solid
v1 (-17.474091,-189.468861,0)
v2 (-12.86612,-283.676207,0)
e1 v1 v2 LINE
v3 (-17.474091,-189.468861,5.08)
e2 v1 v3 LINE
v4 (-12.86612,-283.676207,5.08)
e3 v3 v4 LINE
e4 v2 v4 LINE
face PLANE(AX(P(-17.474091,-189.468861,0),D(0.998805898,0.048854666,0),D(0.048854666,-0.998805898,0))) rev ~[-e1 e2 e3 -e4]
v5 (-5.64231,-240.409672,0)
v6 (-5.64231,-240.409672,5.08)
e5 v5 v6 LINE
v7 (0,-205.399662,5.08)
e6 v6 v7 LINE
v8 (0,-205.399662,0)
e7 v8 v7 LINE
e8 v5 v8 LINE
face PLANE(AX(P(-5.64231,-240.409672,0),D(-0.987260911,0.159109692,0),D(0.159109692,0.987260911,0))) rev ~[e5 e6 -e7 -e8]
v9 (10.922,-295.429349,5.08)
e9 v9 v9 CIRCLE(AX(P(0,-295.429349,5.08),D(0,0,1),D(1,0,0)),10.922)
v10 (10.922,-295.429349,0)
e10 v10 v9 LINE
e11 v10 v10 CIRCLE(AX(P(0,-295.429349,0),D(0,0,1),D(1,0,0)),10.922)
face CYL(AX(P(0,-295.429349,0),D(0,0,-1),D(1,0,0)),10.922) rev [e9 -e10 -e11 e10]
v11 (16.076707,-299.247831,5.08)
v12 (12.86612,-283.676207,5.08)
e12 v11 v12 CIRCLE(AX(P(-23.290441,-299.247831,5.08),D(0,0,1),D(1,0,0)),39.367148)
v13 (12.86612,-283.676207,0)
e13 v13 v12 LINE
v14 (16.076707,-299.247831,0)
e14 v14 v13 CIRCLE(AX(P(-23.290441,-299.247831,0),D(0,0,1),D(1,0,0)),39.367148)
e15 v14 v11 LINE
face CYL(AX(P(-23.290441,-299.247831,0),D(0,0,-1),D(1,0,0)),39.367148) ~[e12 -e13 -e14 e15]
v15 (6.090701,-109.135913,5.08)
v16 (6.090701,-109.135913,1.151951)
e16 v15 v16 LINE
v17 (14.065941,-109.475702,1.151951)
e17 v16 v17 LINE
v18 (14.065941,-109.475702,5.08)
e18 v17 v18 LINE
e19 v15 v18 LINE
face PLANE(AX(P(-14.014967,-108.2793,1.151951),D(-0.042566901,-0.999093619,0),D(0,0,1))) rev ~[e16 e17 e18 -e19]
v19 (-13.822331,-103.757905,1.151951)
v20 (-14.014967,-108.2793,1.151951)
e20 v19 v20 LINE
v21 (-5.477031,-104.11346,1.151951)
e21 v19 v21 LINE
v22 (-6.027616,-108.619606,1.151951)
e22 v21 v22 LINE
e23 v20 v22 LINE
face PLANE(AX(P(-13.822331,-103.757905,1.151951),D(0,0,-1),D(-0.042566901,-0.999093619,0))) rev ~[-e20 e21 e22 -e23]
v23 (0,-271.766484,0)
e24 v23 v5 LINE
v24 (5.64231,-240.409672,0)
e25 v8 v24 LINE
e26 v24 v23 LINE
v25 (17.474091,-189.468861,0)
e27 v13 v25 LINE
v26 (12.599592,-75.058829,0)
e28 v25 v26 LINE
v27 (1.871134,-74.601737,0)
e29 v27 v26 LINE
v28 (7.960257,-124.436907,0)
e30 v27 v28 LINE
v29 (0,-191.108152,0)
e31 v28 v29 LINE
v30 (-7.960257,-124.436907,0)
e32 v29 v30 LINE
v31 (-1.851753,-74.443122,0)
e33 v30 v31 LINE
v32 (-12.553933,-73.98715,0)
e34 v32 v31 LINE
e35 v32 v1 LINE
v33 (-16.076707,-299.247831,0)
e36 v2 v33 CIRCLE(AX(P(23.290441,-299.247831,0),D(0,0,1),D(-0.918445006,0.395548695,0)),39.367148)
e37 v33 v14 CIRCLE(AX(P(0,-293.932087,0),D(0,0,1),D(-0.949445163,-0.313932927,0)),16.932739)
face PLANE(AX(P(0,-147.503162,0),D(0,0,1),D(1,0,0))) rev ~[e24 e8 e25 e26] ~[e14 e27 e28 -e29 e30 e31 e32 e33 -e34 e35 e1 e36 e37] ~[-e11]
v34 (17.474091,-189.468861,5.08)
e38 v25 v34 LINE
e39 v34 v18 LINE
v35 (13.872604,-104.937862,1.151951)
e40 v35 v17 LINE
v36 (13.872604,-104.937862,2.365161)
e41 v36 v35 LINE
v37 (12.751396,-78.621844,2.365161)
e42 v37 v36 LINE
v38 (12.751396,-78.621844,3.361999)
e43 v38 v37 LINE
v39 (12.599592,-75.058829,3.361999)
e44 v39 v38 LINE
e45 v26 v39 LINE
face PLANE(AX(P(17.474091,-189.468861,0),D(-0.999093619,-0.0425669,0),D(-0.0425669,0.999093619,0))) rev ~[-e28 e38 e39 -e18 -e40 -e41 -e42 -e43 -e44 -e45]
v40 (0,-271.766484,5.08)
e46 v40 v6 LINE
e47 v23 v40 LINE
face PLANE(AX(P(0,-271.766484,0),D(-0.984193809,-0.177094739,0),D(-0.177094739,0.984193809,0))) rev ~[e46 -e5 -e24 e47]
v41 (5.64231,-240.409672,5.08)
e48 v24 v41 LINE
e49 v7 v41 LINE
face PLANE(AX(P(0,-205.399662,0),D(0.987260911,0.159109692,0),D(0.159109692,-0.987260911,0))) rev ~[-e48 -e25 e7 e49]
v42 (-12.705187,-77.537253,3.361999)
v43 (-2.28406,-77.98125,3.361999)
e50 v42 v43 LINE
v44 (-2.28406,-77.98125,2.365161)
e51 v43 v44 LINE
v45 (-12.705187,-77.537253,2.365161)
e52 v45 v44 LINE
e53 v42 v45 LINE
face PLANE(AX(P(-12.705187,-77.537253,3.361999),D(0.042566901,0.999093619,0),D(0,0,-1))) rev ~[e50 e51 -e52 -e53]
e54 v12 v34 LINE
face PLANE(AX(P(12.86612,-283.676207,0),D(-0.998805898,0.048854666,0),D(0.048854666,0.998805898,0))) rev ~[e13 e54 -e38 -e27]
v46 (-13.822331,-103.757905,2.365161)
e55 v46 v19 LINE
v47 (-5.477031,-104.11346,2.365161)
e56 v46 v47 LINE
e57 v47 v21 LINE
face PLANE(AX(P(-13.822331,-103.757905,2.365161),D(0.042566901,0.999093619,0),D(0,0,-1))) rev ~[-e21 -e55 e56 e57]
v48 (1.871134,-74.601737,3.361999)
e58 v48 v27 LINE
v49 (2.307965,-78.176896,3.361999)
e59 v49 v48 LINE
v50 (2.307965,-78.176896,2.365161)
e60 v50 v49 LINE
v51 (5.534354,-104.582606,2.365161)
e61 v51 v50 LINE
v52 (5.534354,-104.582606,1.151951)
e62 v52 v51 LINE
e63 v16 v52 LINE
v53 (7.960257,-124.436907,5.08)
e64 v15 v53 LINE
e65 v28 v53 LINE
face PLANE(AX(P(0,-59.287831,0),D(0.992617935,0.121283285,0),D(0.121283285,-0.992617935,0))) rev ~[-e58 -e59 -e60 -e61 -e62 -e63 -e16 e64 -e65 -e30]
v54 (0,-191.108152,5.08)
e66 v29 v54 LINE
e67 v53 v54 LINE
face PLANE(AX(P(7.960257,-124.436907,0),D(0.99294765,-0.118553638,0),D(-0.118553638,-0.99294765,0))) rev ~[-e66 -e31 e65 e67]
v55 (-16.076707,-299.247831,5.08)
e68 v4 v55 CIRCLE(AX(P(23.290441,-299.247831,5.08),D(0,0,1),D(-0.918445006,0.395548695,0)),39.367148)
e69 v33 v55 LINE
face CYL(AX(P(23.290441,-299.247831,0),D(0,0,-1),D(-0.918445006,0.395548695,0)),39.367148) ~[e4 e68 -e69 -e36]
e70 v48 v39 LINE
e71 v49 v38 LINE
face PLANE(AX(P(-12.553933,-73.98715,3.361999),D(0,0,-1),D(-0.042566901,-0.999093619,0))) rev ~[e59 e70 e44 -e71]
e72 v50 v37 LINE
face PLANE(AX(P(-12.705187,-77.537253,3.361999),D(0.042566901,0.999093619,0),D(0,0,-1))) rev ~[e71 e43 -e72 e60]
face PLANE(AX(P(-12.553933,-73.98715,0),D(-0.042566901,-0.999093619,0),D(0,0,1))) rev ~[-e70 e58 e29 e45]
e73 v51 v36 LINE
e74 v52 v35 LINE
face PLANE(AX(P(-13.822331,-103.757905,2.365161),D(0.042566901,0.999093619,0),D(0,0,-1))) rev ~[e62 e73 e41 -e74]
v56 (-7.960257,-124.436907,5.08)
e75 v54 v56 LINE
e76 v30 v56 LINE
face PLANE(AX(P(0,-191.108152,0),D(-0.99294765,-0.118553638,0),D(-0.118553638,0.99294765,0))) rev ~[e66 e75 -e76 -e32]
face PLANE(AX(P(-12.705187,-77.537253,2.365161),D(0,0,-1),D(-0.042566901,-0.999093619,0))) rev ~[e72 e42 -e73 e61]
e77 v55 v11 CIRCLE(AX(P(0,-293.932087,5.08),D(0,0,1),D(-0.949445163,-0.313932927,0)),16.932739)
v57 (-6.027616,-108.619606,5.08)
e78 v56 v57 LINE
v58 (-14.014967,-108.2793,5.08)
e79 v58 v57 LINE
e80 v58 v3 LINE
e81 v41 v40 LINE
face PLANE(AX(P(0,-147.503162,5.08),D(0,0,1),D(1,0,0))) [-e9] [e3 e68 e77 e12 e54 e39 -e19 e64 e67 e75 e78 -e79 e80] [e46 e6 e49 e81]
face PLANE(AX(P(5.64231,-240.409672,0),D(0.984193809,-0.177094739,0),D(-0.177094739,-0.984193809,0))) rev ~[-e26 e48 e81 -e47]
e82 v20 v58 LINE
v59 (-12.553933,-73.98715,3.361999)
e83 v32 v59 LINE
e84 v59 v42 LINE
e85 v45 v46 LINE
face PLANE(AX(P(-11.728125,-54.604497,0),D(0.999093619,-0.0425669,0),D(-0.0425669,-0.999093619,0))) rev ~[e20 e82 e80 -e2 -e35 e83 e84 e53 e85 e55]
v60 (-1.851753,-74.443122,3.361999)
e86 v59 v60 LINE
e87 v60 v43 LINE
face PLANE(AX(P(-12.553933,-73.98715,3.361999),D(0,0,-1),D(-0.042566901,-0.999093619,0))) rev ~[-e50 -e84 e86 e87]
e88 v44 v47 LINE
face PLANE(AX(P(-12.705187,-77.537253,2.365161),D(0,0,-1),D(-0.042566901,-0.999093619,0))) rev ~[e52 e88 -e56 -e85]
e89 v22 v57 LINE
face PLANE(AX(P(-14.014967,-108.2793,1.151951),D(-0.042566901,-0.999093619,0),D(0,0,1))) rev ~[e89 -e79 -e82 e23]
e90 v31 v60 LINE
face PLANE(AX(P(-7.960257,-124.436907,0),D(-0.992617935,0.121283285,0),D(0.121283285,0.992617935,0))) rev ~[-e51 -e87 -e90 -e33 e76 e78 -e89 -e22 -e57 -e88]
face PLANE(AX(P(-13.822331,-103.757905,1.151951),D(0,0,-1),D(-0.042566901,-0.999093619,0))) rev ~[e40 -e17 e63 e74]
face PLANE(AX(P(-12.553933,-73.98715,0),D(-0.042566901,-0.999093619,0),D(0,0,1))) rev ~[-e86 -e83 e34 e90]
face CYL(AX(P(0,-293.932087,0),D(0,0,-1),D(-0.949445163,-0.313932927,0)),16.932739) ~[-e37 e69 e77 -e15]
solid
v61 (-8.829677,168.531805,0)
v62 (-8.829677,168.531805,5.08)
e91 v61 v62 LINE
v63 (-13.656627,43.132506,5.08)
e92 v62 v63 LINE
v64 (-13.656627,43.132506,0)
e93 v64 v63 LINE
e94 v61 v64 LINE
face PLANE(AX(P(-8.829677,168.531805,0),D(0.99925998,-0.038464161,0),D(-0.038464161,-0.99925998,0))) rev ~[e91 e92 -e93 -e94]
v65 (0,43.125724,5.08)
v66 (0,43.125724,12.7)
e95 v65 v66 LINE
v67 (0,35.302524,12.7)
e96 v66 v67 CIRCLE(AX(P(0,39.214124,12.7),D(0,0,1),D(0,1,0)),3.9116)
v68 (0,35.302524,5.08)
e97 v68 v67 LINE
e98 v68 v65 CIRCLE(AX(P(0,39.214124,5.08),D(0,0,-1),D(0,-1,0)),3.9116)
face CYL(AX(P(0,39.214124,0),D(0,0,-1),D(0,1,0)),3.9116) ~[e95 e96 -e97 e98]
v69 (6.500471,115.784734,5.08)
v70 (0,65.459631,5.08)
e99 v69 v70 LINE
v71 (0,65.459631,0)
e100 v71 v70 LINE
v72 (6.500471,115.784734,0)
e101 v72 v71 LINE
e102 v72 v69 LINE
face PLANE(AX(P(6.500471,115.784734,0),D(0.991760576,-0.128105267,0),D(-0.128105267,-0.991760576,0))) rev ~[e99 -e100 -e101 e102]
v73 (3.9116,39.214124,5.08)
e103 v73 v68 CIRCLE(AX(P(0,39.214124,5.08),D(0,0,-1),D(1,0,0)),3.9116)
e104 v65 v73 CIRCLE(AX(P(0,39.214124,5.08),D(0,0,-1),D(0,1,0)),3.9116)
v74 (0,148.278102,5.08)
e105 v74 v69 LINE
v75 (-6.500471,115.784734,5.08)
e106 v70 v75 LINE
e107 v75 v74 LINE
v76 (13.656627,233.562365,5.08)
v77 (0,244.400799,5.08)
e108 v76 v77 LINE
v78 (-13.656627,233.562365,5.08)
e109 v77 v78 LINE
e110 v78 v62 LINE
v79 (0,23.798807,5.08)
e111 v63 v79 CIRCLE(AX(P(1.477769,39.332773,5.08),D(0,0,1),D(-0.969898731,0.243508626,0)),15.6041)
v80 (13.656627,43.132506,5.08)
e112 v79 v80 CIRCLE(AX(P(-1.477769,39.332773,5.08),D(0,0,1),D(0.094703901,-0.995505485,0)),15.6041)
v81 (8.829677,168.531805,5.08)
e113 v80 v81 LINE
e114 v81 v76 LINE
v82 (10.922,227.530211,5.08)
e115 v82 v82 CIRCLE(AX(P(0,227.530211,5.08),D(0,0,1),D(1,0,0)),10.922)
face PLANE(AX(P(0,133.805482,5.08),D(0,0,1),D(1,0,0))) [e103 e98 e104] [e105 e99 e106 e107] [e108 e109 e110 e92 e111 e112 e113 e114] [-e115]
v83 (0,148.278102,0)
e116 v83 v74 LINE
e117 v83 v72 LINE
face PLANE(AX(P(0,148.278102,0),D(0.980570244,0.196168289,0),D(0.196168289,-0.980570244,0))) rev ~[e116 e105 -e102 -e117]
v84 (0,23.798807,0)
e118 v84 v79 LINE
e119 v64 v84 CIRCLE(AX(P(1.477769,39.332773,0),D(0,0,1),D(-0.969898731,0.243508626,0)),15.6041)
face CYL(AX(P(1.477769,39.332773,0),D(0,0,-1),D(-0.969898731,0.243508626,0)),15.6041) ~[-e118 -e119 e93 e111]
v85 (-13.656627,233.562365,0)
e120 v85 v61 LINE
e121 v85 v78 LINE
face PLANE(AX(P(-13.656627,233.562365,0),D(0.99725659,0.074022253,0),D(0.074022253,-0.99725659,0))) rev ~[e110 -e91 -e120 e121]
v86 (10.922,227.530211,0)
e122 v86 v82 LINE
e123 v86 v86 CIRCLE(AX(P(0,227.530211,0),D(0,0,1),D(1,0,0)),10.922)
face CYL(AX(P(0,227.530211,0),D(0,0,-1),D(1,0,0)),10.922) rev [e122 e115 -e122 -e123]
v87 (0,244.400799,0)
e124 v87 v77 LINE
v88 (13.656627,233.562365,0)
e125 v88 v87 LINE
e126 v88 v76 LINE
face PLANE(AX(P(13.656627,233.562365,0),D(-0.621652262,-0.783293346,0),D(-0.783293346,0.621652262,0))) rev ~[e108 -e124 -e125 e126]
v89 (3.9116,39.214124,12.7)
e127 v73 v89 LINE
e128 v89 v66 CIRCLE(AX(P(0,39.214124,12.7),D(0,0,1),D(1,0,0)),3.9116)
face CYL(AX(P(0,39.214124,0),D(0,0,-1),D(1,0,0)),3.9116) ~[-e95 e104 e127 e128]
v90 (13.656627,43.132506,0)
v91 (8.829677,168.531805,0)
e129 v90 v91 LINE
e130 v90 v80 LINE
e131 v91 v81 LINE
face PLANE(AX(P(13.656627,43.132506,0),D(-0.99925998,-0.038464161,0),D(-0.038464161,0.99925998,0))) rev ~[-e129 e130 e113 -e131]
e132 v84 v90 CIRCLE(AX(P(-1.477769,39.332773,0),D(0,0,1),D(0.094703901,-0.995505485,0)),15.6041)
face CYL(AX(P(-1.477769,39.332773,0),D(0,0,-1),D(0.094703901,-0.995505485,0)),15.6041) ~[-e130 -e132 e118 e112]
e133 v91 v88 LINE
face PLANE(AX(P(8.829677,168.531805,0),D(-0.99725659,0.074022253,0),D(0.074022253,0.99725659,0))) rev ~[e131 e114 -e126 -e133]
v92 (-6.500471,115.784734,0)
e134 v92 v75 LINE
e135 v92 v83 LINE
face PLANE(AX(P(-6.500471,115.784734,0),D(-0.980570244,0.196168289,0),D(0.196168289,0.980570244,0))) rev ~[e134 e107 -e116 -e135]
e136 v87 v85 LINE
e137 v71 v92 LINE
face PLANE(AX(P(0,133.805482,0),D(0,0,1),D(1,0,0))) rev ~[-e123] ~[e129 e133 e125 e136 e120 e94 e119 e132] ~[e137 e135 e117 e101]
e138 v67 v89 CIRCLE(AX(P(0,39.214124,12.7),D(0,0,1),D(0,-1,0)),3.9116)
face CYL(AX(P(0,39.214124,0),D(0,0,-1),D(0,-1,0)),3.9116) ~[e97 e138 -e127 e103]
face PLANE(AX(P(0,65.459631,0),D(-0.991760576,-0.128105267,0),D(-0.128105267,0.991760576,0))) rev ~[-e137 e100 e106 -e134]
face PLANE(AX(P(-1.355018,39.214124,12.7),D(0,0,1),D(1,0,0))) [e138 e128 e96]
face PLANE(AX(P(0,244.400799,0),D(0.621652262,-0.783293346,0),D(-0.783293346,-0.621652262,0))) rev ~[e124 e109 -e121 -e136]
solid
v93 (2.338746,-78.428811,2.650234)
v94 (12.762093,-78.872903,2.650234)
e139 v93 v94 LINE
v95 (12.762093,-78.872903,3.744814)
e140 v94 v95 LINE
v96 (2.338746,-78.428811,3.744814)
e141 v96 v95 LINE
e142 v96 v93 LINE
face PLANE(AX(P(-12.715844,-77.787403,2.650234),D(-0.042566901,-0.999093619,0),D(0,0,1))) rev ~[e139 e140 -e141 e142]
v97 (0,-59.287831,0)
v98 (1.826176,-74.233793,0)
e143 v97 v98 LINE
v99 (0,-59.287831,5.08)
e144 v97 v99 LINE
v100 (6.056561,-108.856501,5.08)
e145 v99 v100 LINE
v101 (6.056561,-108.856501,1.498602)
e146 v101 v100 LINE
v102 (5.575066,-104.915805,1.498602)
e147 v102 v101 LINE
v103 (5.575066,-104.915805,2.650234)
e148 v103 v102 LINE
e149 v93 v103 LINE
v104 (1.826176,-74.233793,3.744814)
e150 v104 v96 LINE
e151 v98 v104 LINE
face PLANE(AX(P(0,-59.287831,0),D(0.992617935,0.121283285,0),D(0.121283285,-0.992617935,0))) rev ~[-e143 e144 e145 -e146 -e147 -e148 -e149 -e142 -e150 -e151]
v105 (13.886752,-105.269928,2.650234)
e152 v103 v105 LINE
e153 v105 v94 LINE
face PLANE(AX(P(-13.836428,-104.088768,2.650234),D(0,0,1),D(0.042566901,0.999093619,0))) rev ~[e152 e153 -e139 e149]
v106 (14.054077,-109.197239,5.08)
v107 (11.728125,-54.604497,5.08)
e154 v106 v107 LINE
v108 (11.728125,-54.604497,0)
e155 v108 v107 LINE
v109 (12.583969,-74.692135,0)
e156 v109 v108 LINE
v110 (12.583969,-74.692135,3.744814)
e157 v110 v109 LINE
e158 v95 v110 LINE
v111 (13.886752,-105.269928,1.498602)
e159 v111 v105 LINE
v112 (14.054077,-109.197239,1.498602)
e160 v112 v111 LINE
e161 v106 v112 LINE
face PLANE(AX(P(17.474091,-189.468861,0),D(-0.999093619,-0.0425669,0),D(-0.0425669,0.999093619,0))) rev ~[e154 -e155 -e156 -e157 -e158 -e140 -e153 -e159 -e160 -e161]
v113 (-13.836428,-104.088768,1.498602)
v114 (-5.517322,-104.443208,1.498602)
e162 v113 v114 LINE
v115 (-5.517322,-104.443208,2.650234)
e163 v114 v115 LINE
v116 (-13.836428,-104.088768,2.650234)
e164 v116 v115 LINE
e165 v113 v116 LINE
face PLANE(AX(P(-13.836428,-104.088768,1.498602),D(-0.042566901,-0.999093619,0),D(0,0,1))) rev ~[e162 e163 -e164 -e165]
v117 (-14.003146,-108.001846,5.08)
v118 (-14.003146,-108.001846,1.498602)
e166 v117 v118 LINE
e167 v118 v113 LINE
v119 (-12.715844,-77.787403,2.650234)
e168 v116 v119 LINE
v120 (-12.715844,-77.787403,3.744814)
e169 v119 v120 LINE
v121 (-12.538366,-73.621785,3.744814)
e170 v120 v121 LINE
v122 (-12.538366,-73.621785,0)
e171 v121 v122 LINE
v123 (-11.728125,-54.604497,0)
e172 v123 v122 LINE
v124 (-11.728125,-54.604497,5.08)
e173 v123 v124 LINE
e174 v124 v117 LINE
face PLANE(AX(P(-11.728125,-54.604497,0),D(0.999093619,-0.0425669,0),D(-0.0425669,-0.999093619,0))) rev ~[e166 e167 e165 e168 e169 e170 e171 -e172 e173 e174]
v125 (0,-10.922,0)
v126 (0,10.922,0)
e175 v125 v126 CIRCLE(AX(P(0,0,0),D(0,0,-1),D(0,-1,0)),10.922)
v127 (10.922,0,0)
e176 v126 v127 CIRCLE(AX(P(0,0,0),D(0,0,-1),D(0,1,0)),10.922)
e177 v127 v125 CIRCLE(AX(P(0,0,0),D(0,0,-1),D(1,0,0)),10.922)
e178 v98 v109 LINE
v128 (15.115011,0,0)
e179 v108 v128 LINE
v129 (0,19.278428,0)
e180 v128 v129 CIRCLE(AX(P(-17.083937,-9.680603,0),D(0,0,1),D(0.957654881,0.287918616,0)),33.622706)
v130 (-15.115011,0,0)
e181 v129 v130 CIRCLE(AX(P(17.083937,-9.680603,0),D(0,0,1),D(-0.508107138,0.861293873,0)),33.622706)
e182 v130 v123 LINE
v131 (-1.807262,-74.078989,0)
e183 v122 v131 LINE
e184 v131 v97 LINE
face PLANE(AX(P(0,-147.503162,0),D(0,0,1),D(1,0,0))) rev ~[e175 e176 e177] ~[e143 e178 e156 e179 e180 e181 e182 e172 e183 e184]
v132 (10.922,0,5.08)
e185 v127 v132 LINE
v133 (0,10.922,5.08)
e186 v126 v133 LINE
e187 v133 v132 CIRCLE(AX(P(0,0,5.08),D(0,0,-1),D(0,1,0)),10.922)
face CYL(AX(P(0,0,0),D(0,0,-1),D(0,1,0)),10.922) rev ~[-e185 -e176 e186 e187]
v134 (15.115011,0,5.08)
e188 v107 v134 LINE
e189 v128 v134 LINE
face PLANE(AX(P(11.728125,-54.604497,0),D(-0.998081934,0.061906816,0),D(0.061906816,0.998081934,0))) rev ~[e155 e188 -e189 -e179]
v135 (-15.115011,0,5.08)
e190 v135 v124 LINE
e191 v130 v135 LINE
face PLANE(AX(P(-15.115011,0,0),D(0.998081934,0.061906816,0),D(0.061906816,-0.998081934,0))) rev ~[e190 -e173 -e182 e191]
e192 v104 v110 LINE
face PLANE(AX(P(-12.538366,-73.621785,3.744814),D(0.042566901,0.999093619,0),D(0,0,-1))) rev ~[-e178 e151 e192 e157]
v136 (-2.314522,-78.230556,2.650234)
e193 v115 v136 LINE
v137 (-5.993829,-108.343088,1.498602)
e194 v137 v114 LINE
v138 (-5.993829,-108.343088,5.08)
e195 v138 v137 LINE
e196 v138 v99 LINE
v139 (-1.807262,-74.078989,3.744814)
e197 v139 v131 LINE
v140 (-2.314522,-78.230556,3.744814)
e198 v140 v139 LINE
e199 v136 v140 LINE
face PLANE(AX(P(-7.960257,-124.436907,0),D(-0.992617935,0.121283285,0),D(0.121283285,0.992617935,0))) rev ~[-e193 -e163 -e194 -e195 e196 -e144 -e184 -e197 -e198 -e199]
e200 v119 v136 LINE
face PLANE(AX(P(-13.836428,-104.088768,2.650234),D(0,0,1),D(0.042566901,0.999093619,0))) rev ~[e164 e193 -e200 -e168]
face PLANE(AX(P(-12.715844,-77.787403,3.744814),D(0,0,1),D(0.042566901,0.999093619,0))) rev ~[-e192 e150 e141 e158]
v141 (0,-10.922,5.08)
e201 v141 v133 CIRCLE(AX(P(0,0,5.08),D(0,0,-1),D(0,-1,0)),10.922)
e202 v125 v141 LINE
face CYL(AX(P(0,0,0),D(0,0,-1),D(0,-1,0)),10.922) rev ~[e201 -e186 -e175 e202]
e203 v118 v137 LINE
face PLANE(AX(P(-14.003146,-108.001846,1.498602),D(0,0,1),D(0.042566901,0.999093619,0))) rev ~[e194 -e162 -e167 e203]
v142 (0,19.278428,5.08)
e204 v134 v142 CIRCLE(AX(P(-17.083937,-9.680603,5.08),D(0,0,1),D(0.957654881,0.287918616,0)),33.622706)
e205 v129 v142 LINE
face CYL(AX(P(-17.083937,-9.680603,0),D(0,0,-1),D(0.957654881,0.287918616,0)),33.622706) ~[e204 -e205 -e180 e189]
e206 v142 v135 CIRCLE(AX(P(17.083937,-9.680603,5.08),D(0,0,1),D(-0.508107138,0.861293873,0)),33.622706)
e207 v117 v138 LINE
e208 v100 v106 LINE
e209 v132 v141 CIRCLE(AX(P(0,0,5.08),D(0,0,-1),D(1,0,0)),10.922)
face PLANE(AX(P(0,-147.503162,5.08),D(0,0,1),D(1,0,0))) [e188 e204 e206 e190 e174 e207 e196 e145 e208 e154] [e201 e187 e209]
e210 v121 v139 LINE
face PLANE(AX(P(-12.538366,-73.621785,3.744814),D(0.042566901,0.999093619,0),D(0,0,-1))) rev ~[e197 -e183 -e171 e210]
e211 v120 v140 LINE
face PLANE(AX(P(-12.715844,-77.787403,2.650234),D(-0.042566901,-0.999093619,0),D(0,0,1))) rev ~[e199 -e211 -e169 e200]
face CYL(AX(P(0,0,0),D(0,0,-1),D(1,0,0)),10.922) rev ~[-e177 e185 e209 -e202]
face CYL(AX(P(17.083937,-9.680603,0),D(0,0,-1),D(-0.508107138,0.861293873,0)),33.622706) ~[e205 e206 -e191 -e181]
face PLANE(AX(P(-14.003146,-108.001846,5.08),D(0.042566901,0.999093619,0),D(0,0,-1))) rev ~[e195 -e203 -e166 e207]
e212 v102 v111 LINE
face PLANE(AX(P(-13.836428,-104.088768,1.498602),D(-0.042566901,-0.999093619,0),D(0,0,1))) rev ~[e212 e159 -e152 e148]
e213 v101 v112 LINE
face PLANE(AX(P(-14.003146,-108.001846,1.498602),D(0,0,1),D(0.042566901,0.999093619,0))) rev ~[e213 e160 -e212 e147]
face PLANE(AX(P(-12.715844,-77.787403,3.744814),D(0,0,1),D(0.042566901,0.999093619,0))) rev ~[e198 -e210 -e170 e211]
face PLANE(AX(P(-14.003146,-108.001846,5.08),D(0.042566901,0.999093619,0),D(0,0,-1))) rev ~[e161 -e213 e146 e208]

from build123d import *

# Parameters (mm, degrees)
F0_R       = 10.922
F1_DEPTH   = 5.08
F3_R       = 10.922
F4_DEPTH   = 5.08
F5_DEPTH   = 12.7
F1_FACE1_W = 134.9867132481
F1_FACE1_H = 5.08
F6_DEPTH   = 40.0849549569


with BuildPart() as f1:
    # F0 (on Top) → F1 (new body)
    with BuildSketch(Plane.XY):
        with BuildLine():
            ThreePointArc((15.1150114834, 0), (9.3757520306, 11.0647871917), (0, 19.278427586))
            ThreePointArc((0, 19.278427586), (-9.3757520306, 11.0647871917), (-15.1150114834, 0))
            Line((-15.1150114834, 0), (-11.728124693, -54.6044968069))
            Line((-11.728124693, -54.6044968069), (-17.4740906805, -189.4688606262))
            Line((-17.4740906805, -189.4688606262), (-12.8661198542, -283.6762070656))
            ThreePointArc((-12.8661198542, -283.6762070656), (-15.2657067928, -291.2982501834), (-16.0767073593, -299.2478311062))
            ThreePointArc((-16.0767073593, -299.2478311062), (0, -310.8648259444), (16.0767073593, -299.2478311062))
            ThreePointArc((16.0767073593, -299.2478311062), (15.2657067928, -291.2982501834), (12.8661198542, -283.6762070656))
            Line((12.8661198542, -283.6762070656), (17.4740906805, -189.4688606262))
            Line((17.4740906805, -189.4688606262), (11.728124693, -54.6044968069))
            Line((11.728124693, -54.6044968069), (15.1150114834, 0))
        make_face()
        with Locations((0, -295.4293489456)):
            Circle(F0_R, mode=Mode.SUBTRACT)
        Polygon((-5.6423097849, -240.4096722603), (0, -205.3996622562), (5.6423097849, -240.4096722603), (0, -271.7664837837), align=None, mode=Mode.SUBTRACT)
        Polygon((-7.9602571204, -124.4369074702), (0, -59.2878311872), (7.9602571204, -124.4369074702), (0, -191.1081522703), align=None, mode=Mode.SUBTRACT)
        with BuildLine():
            ThreePointArc((0, 10.922), (7.7230202641, 7.7230202641), (10.922, 0))
            ThreePointArc((10.922, 0), (7.7230202641, -7.7230202641), (0, -10.922))
            ThreePointArc((0, -10.922), (-10.922, 0), (0, 10.922))
        make_face(mode=Mode.SUBTRACT)
    extrude(amount=F1_DEPTH)

    # F2 (on face) + F1_face1 (on face) → F6 (cut, through all)
    with BuildSketch(Plane(origin=(-9.3846365842, 0.3998372965, 0), x_dir=(-0.0425669005, -0.9990936187, 0), z_dir=(-0.9990936187, 0.0425669005, 0))):
        Polygon((108.6390390992, 5.08), (108.5000261664, 5.08), (108.5000261664, 1.4986022143), (104.5833975077, 1.4986022143), (104.5833975077, 2.6502343826), (78.2581716776, 2.6502343826), (78.2581716776, 3.7448140793), (74.0887746215, 3.7448140793), (74.0887746215, 0), (74.304997921, 0), (74.4544714689, 0), (74.4544714689, 3.3619990572), (78.0077949166, 3.3619990572), (78.0077949166, 2.3651611991), (104.2522341013, 2.3651611991), (104.2522341013, 1.1519507971), (108.777731657, 1.1519507971), (108.777731657, 5.08), align=None)
    with BuildSketch(Plane(origin=(14.6011076868, -122.0366787165, 2.54), x_dir=(-0.0425669005, 0.9990936187, 0), z_dir=(0.9990936187, 0.0425669005, 0))):
        Rectangle(F1_FACE1_W, F1_FACE1_H)
    extrude(amount=-F6_DEPTH, dir=(-0.9990936187, 0.0425669005, 0), mode=Mode.SUBTRACT)


with BuildPart() as f4:
    # F3 (on Top) → F4 (new body)
    with BuildSketch(Plane.XY):
        with BuildLine():
            Line((-8.8296765462, 168.5318052769), (-13.6566273868, 43.1325063109))
            ThreePointArc((-13.6566273868, 43.1325063109), (-11.2673867399, 30.3300555363), (0, 23.7988065928))
            ThreePointArc((0, 23.7988065928), (11.2673867399, 30.3300555363), (13.6566273868, 43.1325063109))
            Line((13.6566273868, 43.1325063109), (8.8296765462, 168.5318052769))
            Line((8.8296765462, 168.5318052769), (13.6566273868, 233.5623651743))
            Line((13.6566273868, 233.5623651743), (0, 244.4007992744))
            Line((0, 244.4007992744), (-13.6566273868, 233.5623651743))
            Line((-13.6566273868, 233.5623651743), (-8.8296765462, 168.5318052769))
        make_face()
        with BuildLine():
            ThreePointArc((3.9116, 39.2141240993), (2.7659188853, 36.448205214), (0, 35.3025240993))
            ThreePointArc((0, 35.3025240993), (-3.9116, 39.2141240993), (0, 43.1257240993))
            ThreePointArc((0, 43.1257240993), (2.7659188853, 41.9800429846), (3.9116, 39.2141240993))
        make_face(mode=Mode.SUBTRACT)
        Polygon((6.5004709177, 115.7847344875), (0, 65.4596313834), (-6.5004709177, 115.7847344875), (0, 148.2781022787), align=None, mode=Mode.SUBTRACT)
        with Locations((0, 227.5302112103)):
            Circle(F3_R, mode=Mode.SUBTRACT)
    extrude(amount=F4_DEPTH)

    # F3 (on Top) → F5 (join)
    with BuildSketch(Plane.XY):
        with BuildLine():
            ThreePointArc((0, 43.1257240993), (-3.9116, 39.2141240993), (0, 35.3025240993))
            Line((0, 35.3025240993), (0, 43.1257240993))
        make_face()
        with BuildLine():
            Line((0, 43.1257240993), (0, 35.3025240993))
            ThreePointArc((0, 35.3025240993), (2.7659188853, 36.448205214), (3.9116, 39.2141240993))
            ThreePointArc((3.9116, 39.2141240993), (2.7659188853, 41.9800429846), (0, 43.1257240993))
        make_face()
    extrude(amount=F5_DEPTH)


solid = Compound([f1.part, f4.part])
